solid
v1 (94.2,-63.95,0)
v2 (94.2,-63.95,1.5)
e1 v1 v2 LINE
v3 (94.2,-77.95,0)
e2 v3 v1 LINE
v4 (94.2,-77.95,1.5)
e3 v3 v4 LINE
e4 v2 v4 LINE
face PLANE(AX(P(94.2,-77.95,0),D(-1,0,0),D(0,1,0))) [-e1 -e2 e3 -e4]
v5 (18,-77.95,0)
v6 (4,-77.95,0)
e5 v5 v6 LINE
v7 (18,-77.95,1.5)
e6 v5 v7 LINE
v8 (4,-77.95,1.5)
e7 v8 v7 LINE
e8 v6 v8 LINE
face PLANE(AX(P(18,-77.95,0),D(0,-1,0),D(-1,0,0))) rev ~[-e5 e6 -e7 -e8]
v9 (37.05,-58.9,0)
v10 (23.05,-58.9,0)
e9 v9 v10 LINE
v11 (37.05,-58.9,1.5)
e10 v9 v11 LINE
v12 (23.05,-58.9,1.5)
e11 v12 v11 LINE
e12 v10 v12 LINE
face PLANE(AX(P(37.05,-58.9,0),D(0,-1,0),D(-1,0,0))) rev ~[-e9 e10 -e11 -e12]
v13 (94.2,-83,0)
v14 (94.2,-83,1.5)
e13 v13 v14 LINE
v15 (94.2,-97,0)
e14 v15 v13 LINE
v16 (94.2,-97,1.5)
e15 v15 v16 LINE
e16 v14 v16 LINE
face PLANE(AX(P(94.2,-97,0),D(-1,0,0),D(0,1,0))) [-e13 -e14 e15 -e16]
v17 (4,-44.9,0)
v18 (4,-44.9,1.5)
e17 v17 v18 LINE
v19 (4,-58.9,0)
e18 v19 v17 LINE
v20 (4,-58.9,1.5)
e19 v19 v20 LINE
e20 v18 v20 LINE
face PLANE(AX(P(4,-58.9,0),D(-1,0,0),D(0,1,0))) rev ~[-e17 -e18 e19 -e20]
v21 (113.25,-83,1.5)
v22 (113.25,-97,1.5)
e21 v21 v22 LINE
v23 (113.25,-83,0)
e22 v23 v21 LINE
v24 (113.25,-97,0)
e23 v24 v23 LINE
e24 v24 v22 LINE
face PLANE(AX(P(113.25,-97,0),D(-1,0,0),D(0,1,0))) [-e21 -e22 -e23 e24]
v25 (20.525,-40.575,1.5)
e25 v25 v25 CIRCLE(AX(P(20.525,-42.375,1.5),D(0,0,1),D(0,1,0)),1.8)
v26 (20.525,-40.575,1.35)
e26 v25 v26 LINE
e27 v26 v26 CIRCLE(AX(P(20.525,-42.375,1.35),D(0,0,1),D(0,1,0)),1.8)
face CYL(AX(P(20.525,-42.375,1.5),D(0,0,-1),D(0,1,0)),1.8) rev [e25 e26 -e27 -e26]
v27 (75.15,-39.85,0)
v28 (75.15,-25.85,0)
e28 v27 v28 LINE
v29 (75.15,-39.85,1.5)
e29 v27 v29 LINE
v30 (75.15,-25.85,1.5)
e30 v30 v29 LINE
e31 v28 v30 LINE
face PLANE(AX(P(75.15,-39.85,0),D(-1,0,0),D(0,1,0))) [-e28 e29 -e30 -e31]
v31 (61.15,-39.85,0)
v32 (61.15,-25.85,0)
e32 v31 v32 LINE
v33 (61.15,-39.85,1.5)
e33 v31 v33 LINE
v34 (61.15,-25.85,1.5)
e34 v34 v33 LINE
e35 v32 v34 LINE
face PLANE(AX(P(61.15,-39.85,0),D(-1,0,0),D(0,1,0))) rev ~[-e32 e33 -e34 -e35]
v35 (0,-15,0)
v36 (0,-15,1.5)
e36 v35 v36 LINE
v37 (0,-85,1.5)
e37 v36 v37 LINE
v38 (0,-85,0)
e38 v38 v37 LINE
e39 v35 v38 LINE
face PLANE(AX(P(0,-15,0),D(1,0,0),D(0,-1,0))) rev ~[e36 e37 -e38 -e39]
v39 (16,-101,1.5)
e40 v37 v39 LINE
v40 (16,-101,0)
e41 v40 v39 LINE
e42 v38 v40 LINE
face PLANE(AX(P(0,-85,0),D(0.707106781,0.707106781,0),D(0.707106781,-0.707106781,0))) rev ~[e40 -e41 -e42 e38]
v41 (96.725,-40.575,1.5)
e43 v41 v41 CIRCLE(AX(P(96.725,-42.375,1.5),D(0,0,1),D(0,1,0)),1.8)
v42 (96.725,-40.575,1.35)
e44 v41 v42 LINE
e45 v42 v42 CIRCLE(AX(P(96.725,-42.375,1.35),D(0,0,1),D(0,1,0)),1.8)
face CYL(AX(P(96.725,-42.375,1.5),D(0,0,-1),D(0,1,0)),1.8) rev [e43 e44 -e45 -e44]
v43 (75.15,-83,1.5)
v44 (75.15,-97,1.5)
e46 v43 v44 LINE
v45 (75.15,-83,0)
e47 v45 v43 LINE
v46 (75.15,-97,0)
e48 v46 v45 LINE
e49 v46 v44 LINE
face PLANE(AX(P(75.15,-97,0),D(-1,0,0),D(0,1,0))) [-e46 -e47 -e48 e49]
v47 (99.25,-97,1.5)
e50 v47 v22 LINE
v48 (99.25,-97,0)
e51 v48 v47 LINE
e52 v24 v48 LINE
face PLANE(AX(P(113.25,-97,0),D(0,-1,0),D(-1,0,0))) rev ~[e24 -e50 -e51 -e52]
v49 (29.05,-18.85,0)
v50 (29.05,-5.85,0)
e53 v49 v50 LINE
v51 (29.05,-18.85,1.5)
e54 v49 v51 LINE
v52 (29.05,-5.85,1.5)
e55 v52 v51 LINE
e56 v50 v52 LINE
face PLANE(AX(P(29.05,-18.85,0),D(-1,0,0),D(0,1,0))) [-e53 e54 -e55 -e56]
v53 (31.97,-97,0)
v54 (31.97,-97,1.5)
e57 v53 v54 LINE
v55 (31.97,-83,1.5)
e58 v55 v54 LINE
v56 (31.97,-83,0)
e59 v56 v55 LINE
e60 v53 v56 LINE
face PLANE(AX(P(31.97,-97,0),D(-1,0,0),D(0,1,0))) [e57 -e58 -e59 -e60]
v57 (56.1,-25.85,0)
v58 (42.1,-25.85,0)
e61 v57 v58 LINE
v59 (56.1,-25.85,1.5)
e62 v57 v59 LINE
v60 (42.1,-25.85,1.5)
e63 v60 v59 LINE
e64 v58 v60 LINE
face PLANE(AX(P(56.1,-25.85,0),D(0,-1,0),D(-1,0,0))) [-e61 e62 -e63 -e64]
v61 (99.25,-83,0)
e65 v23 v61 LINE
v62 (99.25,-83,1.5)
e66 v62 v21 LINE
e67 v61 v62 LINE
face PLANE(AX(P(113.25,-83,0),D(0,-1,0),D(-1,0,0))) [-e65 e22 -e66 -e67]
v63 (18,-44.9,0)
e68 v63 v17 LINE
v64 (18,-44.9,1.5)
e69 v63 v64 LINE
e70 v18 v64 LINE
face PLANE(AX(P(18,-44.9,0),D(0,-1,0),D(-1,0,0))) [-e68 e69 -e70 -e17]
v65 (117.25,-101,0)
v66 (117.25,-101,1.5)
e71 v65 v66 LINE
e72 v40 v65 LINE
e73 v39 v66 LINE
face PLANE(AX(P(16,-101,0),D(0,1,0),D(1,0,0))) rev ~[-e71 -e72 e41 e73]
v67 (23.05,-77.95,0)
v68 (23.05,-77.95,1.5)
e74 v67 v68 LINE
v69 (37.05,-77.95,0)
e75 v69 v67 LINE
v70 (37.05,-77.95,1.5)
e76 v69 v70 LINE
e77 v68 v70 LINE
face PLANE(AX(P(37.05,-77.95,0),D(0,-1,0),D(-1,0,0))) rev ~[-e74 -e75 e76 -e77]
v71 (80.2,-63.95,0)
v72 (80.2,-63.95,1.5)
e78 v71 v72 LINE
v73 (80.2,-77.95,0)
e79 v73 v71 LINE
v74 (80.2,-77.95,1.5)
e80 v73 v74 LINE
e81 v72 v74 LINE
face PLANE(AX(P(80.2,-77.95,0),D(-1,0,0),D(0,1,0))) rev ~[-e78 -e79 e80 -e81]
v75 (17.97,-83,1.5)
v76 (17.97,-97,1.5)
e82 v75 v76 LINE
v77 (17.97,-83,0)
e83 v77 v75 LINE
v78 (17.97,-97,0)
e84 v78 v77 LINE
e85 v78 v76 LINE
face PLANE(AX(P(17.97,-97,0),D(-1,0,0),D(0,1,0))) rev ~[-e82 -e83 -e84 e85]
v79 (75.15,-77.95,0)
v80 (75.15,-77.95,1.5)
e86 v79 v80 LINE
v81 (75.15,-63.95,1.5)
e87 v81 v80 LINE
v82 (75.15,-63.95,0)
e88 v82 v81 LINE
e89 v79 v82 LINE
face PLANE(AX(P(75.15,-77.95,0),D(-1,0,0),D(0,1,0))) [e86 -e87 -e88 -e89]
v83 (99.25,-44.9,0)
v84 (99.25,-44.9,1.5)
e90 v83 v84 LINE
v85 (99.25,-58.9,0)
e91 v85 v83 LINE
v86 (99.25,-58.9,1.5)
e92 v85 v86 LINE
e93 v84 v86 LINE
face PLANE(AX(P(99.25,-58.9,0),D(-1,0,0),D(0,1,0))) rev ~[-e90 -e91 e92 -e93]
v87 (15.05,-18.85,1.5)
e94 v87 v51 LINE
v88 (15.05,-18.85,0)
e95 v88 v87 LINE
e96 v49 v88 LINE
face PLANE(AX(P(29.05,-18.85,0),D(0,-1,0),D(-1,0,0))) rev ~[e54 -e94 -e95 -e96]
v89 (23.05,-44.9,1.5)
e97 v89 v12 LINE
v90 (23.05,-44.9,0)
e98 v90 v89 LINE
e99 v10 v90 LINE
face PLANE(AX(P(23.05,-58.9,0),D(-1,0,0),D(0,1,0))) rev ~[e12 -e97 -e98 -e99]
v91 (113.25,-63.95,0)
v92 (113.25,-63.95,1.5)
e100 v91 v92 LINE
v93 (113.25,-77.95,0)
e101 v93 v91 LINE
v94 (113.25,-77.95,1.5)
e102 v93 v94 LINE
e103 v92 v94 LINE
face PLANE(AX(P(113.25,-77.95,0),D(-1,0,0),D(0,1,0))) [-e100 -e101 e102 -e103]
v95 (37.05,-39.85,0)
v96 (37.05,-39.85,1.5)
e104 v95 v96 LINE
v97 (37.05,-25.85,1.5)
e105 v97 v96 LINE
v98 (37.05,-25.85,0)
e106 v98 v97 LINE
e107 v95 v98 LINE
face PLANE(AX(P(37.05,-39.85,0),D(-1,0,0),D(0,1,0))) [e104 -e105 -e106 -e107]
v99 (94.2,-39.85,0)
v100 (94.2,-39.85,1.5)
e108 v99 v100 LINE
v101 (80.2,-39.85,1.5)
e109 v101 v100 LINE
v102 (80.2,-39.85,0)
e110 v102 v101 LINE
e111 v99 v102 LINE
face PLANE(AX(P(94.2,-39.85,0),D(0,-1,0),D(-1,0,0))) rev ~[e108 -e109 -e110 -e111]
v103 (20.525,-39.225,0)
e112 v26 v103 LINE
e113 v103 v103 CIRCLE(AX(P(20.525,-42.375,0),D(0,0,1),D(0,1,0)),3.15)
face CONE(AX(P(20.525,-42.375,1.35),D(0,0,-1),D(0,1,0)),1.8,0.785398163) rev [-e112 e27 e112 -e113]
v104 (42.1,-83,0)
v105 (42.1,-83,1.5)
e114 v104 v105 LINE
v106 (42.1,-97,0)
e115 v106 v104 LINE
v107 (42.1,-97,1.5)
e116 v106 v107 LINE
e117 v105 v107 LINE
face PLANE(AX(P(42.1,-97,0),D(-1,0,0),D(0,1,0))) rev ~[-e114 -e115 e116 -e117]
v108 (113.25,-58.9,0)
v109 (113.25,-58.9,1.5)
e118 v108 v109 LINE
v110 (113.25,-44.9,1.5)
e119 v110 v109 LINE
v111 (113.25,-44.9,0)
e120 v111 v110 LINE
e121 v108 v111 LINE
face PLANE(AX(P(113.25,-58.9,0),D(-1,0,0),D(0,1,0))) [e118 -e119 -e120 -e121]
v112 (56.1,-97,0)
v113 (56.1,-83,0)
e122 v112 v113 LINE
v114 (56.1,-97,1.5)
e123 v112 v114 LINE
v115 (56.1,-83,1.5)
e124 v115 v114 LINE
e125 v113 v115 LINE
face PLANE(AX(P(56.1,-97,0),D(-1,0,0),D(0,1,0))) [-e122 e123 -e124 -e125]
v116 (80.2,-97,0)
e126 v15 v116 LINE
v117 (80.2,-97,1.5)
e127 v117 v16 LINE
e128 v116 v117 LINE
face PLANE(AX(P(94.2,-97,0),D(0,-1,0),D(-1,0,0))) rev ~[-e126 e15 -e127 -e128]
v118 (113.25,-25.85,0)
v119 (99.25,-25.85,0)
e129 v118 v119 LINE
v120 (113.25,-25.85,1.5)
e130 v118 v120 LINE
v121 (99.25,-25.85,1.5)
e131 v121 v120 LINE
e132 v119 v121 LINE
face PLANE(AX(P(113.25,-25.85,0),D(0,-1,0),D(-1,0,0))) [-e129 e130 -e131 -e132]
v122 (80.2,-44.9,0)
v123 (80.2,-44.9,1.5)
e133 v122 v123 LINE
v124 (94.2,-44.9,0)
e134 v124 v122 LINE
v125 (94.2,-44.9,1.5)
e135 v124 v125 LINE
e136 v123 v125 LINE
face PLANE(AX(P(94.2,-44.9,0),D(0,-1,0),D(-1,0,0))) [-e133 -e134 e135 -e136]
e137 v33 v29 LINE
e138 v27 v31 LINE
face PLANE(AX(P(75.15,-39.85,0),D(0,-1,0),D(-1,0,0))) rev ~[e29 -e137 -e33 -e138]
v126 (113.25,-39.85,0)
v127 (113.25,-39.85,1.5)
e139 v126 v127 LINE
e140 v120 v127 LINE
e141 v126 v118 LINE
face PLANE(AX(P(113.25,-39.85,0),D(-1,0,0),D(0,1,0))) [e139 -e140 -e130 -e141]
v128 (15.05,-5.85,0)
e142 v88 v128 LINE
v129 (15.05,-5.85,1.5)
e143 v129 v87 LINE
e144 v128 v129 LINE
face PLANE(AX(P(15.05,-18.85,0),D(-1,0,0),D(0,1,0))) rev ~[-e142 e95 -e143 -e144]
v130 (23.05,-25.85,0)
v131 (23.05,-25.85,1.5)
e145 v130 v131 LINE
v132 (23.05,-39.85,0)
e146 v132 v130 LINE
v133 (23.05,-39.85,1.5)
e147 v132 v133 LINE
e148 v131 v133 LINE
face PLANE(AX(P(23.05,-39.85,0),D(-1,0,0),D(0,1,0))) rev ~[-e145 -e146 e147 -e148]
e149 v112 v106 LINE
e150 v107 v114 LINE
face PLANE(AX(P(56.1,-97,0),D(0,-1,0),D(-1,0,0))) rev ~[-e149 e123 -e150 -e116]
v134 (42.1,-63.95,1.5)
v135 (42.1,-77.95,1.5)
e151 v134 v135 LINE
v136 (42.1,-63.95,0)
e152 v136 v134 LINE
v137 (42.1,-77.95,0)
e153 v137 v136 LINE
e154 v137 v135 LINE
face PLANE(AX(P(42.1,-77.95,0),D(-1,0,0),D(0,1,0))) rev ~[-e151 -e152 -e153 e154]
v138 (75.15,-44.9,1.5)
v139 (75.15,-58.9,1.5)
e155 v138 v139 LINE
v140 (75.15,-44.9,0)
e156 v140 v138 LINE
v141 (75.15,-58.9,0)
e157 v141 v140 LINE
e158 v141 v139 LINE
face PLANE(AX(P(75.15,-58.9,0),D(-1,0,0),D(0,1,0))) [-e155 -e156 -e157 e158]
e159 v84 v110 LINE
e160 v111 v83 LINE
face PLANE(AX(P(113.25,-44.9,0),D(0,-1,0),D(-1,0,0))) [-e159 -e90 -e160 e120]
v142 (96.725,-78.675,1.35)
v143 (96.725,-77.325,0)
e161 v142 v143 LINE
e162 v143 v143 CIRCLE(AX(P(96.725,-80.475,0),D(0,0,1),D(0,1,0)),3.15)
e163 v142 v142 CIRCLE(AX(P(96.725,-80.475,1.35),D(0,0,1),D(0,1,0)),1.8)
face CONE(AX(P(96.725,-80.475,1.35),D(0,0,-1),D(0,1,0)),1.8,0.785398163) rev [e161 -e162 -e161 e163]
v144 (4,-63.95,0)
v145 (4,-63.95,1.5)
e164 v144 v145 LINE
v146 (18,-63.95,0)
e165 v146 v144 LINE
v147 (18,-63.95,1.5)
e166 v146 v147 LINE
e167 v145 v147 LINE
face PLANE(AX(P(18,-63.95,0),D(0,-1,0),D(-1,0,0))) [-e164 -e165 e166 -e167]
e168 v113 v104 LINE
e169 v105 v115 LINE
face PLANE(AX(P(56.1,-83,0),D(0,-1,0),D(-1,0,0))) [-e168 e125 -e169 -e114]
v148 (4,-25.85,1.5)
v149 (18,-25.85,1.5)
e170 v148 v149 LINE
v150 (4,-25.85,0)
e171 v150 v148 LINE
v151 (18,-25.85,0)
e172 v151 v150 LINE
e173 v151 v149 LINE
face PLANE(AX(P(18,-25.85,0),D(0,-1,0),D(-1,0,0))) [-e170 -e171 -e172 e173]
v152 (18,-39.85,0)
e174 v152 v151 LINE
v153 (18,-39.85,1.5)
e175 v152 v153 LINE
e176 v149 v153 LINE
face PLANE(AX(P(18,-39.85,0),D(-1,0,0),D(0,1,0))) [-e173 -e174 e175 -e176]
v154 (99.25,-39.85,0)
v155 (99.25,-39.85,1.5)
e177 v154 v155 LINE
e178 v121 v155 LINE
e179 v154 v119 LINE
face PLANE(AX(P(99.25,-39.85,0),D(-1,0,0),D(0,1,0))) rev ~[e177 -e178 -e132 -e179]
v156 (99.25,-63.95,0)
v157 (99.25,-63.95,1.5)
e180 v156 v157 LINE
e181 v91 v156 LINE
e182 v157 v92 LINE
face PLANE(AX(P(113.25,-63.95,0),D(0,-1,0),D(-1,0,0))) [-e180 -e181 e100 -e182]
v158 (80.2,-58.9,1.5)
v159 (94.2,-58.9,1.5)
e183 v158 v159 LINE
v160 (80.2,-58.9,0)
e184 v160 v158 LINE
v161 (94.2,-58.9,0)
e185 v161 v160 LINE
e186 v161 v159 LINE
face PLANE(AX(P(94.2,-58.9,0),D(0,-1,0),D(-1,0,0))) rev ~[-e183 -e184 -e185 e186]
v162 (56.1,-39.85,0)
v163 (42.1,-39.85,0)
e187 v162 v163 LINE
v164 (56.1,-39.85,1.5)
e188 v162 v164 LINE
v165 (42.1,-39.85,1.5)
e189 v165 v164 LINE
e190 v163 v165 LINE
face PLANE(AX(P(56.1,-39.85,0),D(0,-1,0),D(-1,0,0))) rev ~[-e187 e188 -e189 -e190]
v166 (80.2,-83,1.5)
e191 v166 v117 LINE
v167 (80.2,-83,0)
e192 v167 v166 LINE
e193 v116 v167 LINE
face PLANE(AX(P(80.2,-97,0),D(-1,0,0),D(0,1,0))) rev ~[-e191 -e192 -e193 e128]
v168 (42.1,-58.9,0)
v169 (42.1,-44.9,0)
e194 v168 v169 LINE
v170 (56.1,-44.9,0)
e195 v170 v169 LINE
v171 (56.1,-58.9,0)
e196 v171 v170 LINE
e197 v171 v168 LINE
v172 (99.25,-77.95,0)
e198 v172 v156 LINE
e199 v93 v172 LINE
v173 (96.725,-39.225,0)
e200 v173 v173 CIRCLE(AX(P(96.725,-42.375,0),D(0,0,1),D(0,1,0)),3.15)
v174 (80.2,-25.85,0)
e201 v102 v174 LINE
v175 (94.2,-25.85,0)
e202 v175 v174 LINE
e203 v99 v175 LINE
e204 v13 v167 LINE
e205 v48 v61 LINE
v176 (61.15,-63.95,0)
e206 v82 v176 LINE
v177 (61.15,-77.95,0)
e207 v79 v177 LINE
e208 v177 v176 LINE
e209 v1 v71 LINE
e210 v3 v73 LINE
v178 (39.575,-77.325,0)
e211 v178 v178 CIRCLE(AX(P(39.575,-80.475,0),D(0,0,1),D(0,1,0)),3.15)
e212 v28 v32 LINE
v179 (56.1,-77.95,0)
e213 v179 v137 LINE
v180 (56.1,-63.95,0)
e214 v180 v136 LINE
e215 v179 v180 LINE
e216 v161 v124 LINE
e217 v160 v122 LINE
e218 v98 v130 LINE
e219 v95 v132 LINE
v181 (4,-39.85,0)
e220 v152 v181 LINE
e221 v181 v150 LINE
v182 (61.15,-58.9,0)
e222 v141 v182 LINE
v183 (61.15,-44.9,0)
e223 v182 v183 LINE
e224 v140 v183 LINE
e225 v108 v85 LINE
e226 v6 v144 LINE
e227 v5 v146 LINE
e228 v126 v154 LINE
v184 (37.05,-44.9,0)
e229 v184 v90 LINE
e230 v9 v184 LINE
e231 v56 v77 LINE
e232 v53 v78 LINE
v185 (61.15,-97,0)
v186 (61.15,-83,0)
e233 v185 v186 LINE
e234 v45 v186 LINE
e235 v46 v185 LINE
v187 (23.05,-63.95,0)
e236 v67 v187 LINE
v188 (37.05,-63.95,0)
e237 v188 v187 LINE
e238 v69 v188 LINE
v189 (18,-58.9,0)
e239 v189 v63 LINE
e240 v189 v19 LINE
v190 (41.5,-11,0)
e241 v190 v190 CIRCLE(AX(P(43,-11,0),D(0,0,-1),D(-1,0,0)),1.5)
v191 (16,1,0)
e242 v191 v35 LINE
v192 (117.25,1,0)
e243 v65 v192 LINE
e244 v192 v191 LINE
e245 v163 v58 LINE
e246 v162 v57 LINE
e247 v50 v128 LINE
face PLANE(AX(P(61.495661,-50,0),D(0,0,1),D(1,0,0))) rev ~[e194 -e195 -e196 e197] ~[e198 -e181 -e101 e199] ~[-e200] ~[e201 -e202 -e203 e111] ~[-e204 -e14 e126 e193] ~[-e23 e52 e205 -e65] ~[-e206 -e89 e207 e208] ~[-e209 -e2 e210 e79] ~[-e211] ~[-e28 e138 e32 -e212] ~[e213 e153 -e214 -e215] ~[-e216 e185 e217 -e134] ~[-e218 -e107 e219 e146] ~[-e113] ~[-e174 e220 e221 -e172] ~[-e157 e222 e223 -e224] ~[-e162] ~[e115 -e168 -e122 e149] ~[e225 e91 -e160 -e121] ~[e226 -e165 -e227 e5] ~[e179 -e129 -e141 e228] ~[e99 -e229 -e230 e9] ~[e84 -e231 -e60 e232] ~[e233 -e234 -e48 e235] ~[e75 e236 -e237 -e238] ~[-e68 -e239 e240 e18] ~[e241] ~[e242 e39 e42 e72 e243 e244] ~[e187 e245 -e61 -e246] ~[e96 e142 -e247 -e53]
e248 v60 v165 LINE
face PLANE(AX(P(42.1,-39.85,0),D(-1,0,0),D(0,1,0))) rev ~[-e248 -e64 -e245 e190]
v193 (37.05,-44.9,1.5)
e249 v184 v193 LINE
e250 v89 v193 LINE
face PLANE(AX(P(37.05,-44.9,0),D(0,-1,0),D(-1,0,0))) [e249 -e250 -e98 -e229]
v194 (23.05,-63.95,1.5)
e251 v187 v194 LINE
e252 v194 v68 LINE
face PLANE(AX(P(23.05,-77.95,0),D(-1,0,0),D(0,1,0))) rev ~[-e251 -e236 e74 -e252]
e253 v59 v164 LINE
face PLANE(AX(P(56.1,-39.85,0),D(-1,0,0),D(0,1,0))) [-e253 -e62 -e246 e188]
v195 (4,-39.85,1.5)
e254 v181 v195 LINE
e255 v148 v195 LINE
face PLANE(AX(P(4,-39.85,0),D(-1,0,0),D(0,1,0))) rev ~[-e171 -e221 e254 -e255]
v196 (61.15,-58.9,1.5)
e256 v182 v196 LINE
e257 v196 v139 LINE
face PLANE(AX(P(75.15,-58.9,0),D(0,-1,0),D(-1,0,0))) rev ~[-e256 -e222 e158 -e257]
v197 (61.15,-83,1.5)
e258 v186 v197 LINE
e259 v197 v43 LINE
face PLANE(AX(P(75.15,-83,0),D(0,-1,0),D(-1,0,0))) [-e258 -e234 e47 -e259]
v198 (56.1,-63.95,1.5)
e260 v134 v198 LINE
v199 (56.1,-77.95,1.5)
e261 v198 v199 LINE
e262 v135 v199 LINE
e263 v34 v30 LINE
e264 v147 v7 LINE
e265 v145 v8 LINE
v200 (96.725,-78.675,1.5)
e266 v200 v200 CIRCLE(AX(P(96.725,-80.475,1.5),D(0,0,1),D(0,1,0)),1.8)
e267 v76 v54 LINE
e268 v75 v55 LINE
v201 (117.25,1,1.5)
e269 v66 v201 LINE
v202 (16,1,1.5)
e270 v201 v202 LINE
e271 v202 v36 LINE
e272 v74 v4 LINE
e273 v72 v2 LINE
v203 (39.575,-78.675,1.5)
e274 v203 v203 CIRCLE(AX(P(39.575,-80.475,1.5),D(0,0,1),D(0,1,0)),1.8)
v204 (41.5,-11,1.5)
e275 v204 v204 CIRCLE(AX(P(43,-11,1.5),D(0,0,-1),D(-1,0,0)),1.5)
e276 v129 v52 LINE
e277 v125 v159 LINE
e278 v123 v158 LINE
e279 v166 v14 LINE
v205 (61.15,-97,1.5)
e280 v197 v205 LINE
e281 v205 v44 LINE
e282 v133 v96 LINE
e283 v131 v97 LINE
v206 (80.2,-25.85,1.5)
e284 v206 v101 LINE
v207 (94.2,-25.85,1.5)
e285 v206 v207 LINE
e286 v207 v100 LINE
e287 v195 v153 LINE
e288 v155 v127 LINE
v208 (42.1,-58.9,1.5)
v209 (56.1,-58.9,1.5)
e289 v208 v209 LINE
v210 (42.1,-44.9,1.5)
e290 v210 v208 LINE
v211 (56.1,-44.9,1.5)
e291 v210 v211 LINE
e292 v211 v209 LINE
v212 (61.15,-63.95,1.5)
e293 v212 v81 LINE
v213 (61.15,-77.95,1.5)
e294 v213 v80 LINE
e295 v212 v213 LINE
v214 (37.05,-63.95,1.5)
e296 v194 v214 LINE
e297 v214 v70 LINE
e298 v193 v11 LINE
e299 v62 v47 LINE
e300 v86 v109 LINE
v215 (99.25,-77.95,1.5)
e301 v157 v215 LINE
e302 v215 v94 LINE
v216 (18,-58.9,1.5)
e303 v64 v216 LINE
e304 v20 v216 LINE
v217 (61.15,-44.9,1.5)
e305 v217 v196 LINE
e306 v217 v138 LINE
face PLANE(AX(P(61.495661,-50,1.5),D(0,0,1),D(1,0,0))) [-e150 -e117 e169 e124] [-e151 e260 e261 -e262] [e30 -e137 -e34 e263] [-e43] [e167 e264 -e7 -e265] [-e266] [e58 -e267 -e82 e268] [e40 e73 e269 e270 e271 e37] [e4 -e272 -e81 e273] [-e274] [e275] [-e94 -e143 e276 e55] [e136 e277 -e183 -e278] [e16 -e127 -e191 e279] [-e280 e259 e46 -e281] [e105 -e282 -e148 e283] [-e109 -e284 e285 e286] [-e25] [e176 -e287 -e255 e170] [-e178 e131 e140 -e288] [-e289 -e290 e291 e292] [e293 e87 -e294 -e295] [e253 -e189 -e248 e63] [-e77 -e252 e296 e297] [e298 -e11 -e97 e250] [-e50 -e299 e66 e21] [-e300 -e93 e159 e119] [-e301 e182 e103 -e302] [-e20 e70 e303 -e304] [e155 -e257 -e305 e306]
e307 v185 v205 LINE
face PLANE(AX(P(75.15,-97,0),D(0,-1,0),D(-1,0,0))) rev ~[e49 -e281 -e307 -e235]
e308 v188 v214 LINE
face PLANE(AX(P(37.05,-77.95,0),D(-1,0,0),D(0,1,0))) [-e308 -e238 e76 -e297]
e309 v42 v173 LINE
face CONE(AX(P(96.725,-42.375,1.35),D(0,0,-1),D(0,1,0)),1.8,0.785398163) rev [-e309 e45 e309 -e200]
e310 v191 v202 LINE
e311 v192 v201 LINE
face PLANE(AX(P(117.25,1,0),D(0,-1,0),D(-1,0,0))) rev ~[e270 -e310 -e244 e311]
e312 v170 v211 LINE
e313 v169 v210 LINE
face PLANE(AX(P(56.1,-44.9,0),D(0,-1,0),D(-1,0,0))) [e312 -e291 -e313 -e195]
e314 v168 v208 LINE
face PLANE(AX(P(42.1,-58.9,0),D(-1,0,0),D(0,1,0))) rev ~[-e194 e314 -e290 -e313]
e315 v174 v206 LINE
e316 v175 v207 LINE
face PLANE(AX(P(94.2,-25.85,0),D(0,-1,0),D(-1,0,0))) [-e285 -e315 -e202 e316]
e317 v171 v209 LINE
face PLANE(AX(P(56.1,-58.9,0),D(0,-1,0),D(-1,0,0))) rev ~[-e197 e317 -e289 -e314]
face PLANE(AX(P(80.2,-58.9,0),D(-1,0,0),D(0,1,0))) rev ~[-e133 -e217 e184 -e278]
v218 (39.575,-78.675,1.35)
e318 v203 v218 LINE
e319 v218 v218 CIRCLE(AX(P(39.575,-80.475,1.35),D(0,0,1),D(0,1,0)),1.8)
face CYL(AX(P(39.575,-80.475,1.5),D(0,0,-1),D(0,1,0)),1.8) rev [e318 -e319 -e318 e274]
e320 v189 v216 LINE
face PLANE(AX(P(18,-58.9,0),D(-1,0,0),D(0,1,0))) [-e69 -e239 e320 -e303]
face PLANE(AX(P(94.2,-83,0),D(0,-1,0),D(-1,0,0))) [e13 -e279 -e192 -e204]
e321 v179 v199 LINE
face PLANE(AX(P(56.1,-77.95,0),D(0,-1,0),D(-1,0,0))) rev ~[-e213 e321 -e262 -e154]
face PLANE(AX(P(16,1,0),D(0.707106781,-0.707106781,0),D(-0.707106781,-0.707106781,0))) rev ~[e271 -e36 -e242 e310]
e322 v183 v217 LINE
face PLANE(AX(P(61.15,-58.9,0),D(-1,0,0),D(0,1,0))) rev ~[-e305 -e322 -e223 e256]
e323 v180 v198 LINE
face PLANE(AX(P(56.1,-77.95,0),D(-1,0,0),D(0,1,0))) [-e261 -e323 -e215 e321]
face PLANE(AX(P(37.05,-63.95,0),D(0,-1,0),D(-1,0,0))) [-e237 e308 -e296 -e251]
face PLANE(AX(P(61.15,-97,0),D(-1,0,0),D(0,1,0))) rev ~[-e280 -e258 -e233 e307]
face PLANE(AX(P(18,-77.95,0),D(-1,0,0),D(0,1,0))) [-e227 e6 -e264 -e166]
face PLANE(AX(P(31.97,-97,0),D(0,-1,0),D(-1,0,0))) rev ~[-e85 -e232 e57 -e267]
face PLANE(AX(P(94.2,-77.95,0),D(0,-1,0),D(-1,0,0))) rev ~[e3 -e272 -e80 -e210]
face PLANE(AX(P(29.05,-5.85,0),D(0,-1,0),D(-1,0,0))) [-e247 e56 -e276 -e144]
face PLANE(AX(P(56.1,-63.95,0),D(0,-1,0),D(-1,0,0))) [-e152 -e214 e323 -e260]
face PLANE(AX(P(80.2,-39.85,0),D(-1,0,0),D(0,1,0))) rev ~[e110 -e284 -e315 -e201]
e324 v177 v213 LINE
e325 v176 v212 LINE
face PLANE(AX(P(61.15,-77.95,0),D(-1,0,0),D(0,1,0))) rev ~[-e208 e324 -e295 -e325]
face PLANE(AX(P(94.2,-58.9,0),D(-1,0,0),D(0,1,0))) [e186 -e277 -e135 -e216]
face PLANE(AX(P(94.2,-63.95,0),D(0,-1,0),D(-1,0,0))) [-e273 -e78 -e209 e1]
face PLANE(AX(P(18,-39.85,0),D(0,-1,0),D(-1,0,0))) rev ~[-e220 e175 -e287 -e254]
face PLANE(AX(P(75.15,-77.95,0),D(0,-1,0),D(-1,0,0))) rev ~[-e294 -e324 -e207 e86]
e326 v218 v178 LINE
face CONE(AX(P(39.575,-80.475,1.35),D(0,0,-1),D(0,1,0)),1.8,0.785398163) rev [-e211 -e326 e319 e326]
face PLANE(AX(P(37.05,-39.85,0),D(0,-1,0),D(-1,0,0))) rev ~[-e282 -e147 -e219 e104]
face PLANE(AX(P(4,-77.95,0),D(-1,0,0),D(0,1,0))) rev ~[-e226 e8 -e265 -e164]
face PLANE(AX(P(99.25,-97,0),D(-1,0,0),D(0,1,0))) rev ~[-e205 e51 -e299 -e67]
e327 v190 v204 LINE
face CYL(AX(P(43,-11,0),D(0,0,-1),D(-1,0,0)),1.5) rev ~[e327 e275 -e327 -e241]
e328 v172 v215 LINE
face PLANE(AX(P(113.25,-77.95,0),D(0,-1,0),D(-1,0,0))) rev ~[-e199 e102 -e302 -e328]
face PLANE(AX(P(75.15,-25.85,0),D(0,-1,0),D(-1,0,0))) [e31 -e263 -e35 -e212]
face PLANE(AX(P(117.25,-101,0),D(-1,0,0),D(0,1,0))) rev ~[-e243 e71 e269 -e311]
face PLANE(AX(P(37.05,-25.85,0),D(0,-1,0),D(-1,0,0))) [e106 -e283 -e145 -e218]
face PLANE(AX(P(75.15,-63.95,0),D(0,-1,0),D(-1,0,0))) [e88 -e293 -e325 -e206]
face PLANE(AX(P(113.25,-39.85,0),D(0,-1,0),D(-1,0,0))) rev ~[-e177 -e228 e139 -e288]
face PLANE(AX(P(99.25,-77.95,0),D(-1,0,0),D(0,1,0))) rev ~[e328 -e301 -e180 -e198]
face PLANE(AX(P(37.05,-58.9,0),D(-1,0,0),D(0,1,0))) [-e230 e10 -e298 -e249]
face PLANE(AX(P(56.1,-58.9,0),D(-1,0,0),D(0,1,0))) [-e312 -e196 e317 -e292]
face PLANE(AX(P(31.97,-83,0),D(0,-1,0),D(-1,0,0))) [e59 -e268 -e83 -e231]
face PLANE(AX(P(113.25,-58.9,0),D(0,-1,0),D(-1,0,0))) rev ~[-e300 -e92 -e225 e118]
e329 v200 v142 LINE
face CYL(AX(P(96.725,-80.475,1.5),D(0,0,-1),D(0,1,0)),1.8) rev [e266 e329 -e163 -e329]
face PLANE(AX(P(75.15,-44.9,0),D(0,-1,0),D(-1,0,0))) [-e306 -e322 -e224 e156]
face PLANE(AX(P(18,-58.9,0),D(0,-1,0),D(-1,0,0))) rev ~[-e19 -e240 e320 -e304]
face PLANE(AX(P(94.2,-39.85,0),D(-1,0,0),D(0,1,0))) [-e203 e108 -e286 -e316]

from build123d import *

# Parameters (mm, degrees)
BOSS_EXTRU_1_DEPTH                          = 1.5
ESQUISSE3_R                                 = 1.5
ESQUISSE3_W                                 = 14
ESQUISSE3_H                                 = 14
ESQUISSE3_H_2                               = 13
ENL_V_MAT_EXTRU_2_DEPTH                     = 10
FRAISAGE_POUR_VIS_T_TE_FRAIS_E_M31_AT_COUNT = 2
FRAISAGE_POUR_VIS_T_TE_FRAIS_E_M31_AT_PITCH = 38.1
FRAISAGE_POUR_VIS_T_TE_FRAIS_E_M31_2_COUNT  = 2
FRAISAGE_POUR_VIS_T_TE_FRAIS_E_M31_2_PITCH  = 76.2
FRAISAGE_POUR_VIS_T_TE_FRAIS_E_M31_3_COUNT  = 2
FRAISAGE_POUR_VIS_T_TE_FRAIS_E_M31_3_PITCH  = 68.685751798


with BuildPart() as part:
    # Esquisse1 → Boss.-Extru.1 (new body)
    with BuildSketch(Plane.XY):
        Polygon((0, -85), (16, -101), (117.25, -101), (117.25, 1), (16, 1), (0, -15), align=None)
    extrude(amount=BOSS_EXTRU_1_DEPTH)

    # Esquisse3 → Enlèv. mat.-Extru.2 (cut)
    with BuildSketch(Plane(origin=(0, 0, 0), x_dir=(-1, 0, 0), z_dir=(0, 0, -1))):
        with Locations((-43, -11)):
            Circle(ESQUISSE3_R)
        with Locations((-87.2, -32.85)):
            Rectangle(ESQUISSE3_W, ESQUISSE3_H)
        with Locations((-106.25, -32.85)):
            Rectangle(ESQUISSE3_W, ESQUISSE3_H)
        with Locations((-68.15, -32.85)):
            Rectangle(ESQUISSE3_W, ESQUISSE3_H)
        with Locations((-49.1, -32.85)):
            Rectangle(ESQUISSE3_W, ESQUISSE3_H)
        with Locations((-30.05, -32.85)):
            Rectangle(ESQUISSE3_W, ESQUISSE3_H)
        with Locations((-11, -32.85)):
            Rectangle(ESQUISSE3_W, ESQUISSE3_H)
        with Locations((-87.2, -51.9)):
            Rectangle(ESQUISSE3_W, ESQUISSE3_H)
        with Locations((-68.15, -51.9)):
            Rectangle(ESQUISSE3_W, ESQUISSE3_H)
        with Locations((-49.1, -51.9)):
            Rectangle(ESQUISSE3_W, ESQUISSE3_H)
        with Locations((-30.05, -51.9)):
            Rectangle(ESQUISSE3_W, ESQUISSE3_H)
        with Locations((-11, -51.9)):
            Rectangle(ESQUISSE3_W, ESQUISSE3_H)
        with Locations((-87.2, -70.95)):
            Rectangle(ESQUISSE3_W, ESQUISSE3_H)
        with Locations((-68.15, -70.95)):
            Rectangle(ESQUISSE3_W, ESQUISSE3_H)
        with Locations((-49.1, -70.95)):
            Rectangle(ESQUISSE3_W, ESQUISSE3_H)
        with Locations((-30.05, -70.95)):
            Rectangle(ESQUISSE3_W, ESQUISSE3_H)
        with Locations((-11, -70.95)):
            Rectangle(ESQUISSE3_W, ESQUISSE3_H)
        with Locations((-87.2, -90)):
            Rectangle(ESQUISSE3_W, ESQUISSE3_H)
        with Locations((-68.15, -90)):
            Rectangle(ESQUISSE3_W, ESQUISSE3_H)
        with Locations((-49.1, -90)):
            Rectangle(ESQUISSE3_W, ESQUISSE3_H)
        with Locations((-106.25, -51.9)):
            Rectangle(ESQUISSE3_W, ESQUISSE3_H)
        with Locations((-106.25, -70.95)):
            Rectangle(ESQUISSE3_W, ESQUISSE3_H)
        with Locations((-106.25, -90)):
            Rectangle(ESQUISSE3_W, ESQUISSE3_H)
        with Locations((-24.97, -90)):
            Rectangle(ESQUISSE3_W, ESQUISSE3_H)
        with Locations((-22.05, -12.35)):
            Rectangle(ESQUISSE3_W, ESQUISSE3_H_2)
    extrude(amount=-ENL_V_MAT_EXTRU_2_DEPTH, mode=Mode.SUBTRACT)

    # Esquisse6 → Fraisage pour vis à tête fraisée M31 (revolve, cut)
    with BuildSketch(Plane(origin=(96.725, -42.375, 0), x_dir=(0, 1, 0), z_dir=(1, 0, 0))):
        Polygon((0, 0), (0, 1.5), (1.8, 1.5), (1.8, 1.35), (3.15, 0), align=None)
    fraisage_pour_vis_t_te_frais_e_m31 = revolve(axis=Axis((96.725, -42.375, -6.35), (0, 0, 1)), mode=Mode.SUBTRACT)

    # Fraisage pour vis à tête fraisée M31 at: Fraisage pour vis à tête fraisée M31 ×2
    with Locations(*[(0, -i * FRAISAGE_POUR_VIS_T_TE_FRAIS_E_M31_AT_PITCH, 0) for i in range(1, FRAISAGE_POUR_VIS_T_TE_FRAIS_E_M31_AT_COUNT)]):
        add(fraisage_pour_vis_t_te_frais_e_m31, mode=Mode.SUBTRACT)

    # Fraisage pour vis _ t_te frais_e M31 2: Fraisage pour vis à tête fraisée M31 ×2
    with Locations(*[(-i * FRAISAGE_POUR_VIS_T_TE_FRAIS_E_M31_2_PITCH, 0, 0) for i in range(1, FRAISAGE_POUR_VIS_T_TE_FRAIS_E_M31_2_COUNT)]):
        add(fraisage_pour_vis_t_te_frais_e_m31, mode=Mode.SUBTRACT)

    # Fraisage pour vis _ t_te frais_e M31 3: Fraisage pour vis à tête fraisée M31 ×2
    with Locations(*[Vector(-0.832050294, -0.554700196, 0) * (i * FRAISAGE_POUR_VIS_T_TE_FRAIS_E_M31_3_PITCH) for i in range(1, FRAISAGE_POUR_VIS_T_TE_FRAIS_E_M31_3_COUNT)]):
        add(fraisage_pour_vis_t_te_frais_e_m31, mode=Mode.SUBTRACT)


solid = part.part
